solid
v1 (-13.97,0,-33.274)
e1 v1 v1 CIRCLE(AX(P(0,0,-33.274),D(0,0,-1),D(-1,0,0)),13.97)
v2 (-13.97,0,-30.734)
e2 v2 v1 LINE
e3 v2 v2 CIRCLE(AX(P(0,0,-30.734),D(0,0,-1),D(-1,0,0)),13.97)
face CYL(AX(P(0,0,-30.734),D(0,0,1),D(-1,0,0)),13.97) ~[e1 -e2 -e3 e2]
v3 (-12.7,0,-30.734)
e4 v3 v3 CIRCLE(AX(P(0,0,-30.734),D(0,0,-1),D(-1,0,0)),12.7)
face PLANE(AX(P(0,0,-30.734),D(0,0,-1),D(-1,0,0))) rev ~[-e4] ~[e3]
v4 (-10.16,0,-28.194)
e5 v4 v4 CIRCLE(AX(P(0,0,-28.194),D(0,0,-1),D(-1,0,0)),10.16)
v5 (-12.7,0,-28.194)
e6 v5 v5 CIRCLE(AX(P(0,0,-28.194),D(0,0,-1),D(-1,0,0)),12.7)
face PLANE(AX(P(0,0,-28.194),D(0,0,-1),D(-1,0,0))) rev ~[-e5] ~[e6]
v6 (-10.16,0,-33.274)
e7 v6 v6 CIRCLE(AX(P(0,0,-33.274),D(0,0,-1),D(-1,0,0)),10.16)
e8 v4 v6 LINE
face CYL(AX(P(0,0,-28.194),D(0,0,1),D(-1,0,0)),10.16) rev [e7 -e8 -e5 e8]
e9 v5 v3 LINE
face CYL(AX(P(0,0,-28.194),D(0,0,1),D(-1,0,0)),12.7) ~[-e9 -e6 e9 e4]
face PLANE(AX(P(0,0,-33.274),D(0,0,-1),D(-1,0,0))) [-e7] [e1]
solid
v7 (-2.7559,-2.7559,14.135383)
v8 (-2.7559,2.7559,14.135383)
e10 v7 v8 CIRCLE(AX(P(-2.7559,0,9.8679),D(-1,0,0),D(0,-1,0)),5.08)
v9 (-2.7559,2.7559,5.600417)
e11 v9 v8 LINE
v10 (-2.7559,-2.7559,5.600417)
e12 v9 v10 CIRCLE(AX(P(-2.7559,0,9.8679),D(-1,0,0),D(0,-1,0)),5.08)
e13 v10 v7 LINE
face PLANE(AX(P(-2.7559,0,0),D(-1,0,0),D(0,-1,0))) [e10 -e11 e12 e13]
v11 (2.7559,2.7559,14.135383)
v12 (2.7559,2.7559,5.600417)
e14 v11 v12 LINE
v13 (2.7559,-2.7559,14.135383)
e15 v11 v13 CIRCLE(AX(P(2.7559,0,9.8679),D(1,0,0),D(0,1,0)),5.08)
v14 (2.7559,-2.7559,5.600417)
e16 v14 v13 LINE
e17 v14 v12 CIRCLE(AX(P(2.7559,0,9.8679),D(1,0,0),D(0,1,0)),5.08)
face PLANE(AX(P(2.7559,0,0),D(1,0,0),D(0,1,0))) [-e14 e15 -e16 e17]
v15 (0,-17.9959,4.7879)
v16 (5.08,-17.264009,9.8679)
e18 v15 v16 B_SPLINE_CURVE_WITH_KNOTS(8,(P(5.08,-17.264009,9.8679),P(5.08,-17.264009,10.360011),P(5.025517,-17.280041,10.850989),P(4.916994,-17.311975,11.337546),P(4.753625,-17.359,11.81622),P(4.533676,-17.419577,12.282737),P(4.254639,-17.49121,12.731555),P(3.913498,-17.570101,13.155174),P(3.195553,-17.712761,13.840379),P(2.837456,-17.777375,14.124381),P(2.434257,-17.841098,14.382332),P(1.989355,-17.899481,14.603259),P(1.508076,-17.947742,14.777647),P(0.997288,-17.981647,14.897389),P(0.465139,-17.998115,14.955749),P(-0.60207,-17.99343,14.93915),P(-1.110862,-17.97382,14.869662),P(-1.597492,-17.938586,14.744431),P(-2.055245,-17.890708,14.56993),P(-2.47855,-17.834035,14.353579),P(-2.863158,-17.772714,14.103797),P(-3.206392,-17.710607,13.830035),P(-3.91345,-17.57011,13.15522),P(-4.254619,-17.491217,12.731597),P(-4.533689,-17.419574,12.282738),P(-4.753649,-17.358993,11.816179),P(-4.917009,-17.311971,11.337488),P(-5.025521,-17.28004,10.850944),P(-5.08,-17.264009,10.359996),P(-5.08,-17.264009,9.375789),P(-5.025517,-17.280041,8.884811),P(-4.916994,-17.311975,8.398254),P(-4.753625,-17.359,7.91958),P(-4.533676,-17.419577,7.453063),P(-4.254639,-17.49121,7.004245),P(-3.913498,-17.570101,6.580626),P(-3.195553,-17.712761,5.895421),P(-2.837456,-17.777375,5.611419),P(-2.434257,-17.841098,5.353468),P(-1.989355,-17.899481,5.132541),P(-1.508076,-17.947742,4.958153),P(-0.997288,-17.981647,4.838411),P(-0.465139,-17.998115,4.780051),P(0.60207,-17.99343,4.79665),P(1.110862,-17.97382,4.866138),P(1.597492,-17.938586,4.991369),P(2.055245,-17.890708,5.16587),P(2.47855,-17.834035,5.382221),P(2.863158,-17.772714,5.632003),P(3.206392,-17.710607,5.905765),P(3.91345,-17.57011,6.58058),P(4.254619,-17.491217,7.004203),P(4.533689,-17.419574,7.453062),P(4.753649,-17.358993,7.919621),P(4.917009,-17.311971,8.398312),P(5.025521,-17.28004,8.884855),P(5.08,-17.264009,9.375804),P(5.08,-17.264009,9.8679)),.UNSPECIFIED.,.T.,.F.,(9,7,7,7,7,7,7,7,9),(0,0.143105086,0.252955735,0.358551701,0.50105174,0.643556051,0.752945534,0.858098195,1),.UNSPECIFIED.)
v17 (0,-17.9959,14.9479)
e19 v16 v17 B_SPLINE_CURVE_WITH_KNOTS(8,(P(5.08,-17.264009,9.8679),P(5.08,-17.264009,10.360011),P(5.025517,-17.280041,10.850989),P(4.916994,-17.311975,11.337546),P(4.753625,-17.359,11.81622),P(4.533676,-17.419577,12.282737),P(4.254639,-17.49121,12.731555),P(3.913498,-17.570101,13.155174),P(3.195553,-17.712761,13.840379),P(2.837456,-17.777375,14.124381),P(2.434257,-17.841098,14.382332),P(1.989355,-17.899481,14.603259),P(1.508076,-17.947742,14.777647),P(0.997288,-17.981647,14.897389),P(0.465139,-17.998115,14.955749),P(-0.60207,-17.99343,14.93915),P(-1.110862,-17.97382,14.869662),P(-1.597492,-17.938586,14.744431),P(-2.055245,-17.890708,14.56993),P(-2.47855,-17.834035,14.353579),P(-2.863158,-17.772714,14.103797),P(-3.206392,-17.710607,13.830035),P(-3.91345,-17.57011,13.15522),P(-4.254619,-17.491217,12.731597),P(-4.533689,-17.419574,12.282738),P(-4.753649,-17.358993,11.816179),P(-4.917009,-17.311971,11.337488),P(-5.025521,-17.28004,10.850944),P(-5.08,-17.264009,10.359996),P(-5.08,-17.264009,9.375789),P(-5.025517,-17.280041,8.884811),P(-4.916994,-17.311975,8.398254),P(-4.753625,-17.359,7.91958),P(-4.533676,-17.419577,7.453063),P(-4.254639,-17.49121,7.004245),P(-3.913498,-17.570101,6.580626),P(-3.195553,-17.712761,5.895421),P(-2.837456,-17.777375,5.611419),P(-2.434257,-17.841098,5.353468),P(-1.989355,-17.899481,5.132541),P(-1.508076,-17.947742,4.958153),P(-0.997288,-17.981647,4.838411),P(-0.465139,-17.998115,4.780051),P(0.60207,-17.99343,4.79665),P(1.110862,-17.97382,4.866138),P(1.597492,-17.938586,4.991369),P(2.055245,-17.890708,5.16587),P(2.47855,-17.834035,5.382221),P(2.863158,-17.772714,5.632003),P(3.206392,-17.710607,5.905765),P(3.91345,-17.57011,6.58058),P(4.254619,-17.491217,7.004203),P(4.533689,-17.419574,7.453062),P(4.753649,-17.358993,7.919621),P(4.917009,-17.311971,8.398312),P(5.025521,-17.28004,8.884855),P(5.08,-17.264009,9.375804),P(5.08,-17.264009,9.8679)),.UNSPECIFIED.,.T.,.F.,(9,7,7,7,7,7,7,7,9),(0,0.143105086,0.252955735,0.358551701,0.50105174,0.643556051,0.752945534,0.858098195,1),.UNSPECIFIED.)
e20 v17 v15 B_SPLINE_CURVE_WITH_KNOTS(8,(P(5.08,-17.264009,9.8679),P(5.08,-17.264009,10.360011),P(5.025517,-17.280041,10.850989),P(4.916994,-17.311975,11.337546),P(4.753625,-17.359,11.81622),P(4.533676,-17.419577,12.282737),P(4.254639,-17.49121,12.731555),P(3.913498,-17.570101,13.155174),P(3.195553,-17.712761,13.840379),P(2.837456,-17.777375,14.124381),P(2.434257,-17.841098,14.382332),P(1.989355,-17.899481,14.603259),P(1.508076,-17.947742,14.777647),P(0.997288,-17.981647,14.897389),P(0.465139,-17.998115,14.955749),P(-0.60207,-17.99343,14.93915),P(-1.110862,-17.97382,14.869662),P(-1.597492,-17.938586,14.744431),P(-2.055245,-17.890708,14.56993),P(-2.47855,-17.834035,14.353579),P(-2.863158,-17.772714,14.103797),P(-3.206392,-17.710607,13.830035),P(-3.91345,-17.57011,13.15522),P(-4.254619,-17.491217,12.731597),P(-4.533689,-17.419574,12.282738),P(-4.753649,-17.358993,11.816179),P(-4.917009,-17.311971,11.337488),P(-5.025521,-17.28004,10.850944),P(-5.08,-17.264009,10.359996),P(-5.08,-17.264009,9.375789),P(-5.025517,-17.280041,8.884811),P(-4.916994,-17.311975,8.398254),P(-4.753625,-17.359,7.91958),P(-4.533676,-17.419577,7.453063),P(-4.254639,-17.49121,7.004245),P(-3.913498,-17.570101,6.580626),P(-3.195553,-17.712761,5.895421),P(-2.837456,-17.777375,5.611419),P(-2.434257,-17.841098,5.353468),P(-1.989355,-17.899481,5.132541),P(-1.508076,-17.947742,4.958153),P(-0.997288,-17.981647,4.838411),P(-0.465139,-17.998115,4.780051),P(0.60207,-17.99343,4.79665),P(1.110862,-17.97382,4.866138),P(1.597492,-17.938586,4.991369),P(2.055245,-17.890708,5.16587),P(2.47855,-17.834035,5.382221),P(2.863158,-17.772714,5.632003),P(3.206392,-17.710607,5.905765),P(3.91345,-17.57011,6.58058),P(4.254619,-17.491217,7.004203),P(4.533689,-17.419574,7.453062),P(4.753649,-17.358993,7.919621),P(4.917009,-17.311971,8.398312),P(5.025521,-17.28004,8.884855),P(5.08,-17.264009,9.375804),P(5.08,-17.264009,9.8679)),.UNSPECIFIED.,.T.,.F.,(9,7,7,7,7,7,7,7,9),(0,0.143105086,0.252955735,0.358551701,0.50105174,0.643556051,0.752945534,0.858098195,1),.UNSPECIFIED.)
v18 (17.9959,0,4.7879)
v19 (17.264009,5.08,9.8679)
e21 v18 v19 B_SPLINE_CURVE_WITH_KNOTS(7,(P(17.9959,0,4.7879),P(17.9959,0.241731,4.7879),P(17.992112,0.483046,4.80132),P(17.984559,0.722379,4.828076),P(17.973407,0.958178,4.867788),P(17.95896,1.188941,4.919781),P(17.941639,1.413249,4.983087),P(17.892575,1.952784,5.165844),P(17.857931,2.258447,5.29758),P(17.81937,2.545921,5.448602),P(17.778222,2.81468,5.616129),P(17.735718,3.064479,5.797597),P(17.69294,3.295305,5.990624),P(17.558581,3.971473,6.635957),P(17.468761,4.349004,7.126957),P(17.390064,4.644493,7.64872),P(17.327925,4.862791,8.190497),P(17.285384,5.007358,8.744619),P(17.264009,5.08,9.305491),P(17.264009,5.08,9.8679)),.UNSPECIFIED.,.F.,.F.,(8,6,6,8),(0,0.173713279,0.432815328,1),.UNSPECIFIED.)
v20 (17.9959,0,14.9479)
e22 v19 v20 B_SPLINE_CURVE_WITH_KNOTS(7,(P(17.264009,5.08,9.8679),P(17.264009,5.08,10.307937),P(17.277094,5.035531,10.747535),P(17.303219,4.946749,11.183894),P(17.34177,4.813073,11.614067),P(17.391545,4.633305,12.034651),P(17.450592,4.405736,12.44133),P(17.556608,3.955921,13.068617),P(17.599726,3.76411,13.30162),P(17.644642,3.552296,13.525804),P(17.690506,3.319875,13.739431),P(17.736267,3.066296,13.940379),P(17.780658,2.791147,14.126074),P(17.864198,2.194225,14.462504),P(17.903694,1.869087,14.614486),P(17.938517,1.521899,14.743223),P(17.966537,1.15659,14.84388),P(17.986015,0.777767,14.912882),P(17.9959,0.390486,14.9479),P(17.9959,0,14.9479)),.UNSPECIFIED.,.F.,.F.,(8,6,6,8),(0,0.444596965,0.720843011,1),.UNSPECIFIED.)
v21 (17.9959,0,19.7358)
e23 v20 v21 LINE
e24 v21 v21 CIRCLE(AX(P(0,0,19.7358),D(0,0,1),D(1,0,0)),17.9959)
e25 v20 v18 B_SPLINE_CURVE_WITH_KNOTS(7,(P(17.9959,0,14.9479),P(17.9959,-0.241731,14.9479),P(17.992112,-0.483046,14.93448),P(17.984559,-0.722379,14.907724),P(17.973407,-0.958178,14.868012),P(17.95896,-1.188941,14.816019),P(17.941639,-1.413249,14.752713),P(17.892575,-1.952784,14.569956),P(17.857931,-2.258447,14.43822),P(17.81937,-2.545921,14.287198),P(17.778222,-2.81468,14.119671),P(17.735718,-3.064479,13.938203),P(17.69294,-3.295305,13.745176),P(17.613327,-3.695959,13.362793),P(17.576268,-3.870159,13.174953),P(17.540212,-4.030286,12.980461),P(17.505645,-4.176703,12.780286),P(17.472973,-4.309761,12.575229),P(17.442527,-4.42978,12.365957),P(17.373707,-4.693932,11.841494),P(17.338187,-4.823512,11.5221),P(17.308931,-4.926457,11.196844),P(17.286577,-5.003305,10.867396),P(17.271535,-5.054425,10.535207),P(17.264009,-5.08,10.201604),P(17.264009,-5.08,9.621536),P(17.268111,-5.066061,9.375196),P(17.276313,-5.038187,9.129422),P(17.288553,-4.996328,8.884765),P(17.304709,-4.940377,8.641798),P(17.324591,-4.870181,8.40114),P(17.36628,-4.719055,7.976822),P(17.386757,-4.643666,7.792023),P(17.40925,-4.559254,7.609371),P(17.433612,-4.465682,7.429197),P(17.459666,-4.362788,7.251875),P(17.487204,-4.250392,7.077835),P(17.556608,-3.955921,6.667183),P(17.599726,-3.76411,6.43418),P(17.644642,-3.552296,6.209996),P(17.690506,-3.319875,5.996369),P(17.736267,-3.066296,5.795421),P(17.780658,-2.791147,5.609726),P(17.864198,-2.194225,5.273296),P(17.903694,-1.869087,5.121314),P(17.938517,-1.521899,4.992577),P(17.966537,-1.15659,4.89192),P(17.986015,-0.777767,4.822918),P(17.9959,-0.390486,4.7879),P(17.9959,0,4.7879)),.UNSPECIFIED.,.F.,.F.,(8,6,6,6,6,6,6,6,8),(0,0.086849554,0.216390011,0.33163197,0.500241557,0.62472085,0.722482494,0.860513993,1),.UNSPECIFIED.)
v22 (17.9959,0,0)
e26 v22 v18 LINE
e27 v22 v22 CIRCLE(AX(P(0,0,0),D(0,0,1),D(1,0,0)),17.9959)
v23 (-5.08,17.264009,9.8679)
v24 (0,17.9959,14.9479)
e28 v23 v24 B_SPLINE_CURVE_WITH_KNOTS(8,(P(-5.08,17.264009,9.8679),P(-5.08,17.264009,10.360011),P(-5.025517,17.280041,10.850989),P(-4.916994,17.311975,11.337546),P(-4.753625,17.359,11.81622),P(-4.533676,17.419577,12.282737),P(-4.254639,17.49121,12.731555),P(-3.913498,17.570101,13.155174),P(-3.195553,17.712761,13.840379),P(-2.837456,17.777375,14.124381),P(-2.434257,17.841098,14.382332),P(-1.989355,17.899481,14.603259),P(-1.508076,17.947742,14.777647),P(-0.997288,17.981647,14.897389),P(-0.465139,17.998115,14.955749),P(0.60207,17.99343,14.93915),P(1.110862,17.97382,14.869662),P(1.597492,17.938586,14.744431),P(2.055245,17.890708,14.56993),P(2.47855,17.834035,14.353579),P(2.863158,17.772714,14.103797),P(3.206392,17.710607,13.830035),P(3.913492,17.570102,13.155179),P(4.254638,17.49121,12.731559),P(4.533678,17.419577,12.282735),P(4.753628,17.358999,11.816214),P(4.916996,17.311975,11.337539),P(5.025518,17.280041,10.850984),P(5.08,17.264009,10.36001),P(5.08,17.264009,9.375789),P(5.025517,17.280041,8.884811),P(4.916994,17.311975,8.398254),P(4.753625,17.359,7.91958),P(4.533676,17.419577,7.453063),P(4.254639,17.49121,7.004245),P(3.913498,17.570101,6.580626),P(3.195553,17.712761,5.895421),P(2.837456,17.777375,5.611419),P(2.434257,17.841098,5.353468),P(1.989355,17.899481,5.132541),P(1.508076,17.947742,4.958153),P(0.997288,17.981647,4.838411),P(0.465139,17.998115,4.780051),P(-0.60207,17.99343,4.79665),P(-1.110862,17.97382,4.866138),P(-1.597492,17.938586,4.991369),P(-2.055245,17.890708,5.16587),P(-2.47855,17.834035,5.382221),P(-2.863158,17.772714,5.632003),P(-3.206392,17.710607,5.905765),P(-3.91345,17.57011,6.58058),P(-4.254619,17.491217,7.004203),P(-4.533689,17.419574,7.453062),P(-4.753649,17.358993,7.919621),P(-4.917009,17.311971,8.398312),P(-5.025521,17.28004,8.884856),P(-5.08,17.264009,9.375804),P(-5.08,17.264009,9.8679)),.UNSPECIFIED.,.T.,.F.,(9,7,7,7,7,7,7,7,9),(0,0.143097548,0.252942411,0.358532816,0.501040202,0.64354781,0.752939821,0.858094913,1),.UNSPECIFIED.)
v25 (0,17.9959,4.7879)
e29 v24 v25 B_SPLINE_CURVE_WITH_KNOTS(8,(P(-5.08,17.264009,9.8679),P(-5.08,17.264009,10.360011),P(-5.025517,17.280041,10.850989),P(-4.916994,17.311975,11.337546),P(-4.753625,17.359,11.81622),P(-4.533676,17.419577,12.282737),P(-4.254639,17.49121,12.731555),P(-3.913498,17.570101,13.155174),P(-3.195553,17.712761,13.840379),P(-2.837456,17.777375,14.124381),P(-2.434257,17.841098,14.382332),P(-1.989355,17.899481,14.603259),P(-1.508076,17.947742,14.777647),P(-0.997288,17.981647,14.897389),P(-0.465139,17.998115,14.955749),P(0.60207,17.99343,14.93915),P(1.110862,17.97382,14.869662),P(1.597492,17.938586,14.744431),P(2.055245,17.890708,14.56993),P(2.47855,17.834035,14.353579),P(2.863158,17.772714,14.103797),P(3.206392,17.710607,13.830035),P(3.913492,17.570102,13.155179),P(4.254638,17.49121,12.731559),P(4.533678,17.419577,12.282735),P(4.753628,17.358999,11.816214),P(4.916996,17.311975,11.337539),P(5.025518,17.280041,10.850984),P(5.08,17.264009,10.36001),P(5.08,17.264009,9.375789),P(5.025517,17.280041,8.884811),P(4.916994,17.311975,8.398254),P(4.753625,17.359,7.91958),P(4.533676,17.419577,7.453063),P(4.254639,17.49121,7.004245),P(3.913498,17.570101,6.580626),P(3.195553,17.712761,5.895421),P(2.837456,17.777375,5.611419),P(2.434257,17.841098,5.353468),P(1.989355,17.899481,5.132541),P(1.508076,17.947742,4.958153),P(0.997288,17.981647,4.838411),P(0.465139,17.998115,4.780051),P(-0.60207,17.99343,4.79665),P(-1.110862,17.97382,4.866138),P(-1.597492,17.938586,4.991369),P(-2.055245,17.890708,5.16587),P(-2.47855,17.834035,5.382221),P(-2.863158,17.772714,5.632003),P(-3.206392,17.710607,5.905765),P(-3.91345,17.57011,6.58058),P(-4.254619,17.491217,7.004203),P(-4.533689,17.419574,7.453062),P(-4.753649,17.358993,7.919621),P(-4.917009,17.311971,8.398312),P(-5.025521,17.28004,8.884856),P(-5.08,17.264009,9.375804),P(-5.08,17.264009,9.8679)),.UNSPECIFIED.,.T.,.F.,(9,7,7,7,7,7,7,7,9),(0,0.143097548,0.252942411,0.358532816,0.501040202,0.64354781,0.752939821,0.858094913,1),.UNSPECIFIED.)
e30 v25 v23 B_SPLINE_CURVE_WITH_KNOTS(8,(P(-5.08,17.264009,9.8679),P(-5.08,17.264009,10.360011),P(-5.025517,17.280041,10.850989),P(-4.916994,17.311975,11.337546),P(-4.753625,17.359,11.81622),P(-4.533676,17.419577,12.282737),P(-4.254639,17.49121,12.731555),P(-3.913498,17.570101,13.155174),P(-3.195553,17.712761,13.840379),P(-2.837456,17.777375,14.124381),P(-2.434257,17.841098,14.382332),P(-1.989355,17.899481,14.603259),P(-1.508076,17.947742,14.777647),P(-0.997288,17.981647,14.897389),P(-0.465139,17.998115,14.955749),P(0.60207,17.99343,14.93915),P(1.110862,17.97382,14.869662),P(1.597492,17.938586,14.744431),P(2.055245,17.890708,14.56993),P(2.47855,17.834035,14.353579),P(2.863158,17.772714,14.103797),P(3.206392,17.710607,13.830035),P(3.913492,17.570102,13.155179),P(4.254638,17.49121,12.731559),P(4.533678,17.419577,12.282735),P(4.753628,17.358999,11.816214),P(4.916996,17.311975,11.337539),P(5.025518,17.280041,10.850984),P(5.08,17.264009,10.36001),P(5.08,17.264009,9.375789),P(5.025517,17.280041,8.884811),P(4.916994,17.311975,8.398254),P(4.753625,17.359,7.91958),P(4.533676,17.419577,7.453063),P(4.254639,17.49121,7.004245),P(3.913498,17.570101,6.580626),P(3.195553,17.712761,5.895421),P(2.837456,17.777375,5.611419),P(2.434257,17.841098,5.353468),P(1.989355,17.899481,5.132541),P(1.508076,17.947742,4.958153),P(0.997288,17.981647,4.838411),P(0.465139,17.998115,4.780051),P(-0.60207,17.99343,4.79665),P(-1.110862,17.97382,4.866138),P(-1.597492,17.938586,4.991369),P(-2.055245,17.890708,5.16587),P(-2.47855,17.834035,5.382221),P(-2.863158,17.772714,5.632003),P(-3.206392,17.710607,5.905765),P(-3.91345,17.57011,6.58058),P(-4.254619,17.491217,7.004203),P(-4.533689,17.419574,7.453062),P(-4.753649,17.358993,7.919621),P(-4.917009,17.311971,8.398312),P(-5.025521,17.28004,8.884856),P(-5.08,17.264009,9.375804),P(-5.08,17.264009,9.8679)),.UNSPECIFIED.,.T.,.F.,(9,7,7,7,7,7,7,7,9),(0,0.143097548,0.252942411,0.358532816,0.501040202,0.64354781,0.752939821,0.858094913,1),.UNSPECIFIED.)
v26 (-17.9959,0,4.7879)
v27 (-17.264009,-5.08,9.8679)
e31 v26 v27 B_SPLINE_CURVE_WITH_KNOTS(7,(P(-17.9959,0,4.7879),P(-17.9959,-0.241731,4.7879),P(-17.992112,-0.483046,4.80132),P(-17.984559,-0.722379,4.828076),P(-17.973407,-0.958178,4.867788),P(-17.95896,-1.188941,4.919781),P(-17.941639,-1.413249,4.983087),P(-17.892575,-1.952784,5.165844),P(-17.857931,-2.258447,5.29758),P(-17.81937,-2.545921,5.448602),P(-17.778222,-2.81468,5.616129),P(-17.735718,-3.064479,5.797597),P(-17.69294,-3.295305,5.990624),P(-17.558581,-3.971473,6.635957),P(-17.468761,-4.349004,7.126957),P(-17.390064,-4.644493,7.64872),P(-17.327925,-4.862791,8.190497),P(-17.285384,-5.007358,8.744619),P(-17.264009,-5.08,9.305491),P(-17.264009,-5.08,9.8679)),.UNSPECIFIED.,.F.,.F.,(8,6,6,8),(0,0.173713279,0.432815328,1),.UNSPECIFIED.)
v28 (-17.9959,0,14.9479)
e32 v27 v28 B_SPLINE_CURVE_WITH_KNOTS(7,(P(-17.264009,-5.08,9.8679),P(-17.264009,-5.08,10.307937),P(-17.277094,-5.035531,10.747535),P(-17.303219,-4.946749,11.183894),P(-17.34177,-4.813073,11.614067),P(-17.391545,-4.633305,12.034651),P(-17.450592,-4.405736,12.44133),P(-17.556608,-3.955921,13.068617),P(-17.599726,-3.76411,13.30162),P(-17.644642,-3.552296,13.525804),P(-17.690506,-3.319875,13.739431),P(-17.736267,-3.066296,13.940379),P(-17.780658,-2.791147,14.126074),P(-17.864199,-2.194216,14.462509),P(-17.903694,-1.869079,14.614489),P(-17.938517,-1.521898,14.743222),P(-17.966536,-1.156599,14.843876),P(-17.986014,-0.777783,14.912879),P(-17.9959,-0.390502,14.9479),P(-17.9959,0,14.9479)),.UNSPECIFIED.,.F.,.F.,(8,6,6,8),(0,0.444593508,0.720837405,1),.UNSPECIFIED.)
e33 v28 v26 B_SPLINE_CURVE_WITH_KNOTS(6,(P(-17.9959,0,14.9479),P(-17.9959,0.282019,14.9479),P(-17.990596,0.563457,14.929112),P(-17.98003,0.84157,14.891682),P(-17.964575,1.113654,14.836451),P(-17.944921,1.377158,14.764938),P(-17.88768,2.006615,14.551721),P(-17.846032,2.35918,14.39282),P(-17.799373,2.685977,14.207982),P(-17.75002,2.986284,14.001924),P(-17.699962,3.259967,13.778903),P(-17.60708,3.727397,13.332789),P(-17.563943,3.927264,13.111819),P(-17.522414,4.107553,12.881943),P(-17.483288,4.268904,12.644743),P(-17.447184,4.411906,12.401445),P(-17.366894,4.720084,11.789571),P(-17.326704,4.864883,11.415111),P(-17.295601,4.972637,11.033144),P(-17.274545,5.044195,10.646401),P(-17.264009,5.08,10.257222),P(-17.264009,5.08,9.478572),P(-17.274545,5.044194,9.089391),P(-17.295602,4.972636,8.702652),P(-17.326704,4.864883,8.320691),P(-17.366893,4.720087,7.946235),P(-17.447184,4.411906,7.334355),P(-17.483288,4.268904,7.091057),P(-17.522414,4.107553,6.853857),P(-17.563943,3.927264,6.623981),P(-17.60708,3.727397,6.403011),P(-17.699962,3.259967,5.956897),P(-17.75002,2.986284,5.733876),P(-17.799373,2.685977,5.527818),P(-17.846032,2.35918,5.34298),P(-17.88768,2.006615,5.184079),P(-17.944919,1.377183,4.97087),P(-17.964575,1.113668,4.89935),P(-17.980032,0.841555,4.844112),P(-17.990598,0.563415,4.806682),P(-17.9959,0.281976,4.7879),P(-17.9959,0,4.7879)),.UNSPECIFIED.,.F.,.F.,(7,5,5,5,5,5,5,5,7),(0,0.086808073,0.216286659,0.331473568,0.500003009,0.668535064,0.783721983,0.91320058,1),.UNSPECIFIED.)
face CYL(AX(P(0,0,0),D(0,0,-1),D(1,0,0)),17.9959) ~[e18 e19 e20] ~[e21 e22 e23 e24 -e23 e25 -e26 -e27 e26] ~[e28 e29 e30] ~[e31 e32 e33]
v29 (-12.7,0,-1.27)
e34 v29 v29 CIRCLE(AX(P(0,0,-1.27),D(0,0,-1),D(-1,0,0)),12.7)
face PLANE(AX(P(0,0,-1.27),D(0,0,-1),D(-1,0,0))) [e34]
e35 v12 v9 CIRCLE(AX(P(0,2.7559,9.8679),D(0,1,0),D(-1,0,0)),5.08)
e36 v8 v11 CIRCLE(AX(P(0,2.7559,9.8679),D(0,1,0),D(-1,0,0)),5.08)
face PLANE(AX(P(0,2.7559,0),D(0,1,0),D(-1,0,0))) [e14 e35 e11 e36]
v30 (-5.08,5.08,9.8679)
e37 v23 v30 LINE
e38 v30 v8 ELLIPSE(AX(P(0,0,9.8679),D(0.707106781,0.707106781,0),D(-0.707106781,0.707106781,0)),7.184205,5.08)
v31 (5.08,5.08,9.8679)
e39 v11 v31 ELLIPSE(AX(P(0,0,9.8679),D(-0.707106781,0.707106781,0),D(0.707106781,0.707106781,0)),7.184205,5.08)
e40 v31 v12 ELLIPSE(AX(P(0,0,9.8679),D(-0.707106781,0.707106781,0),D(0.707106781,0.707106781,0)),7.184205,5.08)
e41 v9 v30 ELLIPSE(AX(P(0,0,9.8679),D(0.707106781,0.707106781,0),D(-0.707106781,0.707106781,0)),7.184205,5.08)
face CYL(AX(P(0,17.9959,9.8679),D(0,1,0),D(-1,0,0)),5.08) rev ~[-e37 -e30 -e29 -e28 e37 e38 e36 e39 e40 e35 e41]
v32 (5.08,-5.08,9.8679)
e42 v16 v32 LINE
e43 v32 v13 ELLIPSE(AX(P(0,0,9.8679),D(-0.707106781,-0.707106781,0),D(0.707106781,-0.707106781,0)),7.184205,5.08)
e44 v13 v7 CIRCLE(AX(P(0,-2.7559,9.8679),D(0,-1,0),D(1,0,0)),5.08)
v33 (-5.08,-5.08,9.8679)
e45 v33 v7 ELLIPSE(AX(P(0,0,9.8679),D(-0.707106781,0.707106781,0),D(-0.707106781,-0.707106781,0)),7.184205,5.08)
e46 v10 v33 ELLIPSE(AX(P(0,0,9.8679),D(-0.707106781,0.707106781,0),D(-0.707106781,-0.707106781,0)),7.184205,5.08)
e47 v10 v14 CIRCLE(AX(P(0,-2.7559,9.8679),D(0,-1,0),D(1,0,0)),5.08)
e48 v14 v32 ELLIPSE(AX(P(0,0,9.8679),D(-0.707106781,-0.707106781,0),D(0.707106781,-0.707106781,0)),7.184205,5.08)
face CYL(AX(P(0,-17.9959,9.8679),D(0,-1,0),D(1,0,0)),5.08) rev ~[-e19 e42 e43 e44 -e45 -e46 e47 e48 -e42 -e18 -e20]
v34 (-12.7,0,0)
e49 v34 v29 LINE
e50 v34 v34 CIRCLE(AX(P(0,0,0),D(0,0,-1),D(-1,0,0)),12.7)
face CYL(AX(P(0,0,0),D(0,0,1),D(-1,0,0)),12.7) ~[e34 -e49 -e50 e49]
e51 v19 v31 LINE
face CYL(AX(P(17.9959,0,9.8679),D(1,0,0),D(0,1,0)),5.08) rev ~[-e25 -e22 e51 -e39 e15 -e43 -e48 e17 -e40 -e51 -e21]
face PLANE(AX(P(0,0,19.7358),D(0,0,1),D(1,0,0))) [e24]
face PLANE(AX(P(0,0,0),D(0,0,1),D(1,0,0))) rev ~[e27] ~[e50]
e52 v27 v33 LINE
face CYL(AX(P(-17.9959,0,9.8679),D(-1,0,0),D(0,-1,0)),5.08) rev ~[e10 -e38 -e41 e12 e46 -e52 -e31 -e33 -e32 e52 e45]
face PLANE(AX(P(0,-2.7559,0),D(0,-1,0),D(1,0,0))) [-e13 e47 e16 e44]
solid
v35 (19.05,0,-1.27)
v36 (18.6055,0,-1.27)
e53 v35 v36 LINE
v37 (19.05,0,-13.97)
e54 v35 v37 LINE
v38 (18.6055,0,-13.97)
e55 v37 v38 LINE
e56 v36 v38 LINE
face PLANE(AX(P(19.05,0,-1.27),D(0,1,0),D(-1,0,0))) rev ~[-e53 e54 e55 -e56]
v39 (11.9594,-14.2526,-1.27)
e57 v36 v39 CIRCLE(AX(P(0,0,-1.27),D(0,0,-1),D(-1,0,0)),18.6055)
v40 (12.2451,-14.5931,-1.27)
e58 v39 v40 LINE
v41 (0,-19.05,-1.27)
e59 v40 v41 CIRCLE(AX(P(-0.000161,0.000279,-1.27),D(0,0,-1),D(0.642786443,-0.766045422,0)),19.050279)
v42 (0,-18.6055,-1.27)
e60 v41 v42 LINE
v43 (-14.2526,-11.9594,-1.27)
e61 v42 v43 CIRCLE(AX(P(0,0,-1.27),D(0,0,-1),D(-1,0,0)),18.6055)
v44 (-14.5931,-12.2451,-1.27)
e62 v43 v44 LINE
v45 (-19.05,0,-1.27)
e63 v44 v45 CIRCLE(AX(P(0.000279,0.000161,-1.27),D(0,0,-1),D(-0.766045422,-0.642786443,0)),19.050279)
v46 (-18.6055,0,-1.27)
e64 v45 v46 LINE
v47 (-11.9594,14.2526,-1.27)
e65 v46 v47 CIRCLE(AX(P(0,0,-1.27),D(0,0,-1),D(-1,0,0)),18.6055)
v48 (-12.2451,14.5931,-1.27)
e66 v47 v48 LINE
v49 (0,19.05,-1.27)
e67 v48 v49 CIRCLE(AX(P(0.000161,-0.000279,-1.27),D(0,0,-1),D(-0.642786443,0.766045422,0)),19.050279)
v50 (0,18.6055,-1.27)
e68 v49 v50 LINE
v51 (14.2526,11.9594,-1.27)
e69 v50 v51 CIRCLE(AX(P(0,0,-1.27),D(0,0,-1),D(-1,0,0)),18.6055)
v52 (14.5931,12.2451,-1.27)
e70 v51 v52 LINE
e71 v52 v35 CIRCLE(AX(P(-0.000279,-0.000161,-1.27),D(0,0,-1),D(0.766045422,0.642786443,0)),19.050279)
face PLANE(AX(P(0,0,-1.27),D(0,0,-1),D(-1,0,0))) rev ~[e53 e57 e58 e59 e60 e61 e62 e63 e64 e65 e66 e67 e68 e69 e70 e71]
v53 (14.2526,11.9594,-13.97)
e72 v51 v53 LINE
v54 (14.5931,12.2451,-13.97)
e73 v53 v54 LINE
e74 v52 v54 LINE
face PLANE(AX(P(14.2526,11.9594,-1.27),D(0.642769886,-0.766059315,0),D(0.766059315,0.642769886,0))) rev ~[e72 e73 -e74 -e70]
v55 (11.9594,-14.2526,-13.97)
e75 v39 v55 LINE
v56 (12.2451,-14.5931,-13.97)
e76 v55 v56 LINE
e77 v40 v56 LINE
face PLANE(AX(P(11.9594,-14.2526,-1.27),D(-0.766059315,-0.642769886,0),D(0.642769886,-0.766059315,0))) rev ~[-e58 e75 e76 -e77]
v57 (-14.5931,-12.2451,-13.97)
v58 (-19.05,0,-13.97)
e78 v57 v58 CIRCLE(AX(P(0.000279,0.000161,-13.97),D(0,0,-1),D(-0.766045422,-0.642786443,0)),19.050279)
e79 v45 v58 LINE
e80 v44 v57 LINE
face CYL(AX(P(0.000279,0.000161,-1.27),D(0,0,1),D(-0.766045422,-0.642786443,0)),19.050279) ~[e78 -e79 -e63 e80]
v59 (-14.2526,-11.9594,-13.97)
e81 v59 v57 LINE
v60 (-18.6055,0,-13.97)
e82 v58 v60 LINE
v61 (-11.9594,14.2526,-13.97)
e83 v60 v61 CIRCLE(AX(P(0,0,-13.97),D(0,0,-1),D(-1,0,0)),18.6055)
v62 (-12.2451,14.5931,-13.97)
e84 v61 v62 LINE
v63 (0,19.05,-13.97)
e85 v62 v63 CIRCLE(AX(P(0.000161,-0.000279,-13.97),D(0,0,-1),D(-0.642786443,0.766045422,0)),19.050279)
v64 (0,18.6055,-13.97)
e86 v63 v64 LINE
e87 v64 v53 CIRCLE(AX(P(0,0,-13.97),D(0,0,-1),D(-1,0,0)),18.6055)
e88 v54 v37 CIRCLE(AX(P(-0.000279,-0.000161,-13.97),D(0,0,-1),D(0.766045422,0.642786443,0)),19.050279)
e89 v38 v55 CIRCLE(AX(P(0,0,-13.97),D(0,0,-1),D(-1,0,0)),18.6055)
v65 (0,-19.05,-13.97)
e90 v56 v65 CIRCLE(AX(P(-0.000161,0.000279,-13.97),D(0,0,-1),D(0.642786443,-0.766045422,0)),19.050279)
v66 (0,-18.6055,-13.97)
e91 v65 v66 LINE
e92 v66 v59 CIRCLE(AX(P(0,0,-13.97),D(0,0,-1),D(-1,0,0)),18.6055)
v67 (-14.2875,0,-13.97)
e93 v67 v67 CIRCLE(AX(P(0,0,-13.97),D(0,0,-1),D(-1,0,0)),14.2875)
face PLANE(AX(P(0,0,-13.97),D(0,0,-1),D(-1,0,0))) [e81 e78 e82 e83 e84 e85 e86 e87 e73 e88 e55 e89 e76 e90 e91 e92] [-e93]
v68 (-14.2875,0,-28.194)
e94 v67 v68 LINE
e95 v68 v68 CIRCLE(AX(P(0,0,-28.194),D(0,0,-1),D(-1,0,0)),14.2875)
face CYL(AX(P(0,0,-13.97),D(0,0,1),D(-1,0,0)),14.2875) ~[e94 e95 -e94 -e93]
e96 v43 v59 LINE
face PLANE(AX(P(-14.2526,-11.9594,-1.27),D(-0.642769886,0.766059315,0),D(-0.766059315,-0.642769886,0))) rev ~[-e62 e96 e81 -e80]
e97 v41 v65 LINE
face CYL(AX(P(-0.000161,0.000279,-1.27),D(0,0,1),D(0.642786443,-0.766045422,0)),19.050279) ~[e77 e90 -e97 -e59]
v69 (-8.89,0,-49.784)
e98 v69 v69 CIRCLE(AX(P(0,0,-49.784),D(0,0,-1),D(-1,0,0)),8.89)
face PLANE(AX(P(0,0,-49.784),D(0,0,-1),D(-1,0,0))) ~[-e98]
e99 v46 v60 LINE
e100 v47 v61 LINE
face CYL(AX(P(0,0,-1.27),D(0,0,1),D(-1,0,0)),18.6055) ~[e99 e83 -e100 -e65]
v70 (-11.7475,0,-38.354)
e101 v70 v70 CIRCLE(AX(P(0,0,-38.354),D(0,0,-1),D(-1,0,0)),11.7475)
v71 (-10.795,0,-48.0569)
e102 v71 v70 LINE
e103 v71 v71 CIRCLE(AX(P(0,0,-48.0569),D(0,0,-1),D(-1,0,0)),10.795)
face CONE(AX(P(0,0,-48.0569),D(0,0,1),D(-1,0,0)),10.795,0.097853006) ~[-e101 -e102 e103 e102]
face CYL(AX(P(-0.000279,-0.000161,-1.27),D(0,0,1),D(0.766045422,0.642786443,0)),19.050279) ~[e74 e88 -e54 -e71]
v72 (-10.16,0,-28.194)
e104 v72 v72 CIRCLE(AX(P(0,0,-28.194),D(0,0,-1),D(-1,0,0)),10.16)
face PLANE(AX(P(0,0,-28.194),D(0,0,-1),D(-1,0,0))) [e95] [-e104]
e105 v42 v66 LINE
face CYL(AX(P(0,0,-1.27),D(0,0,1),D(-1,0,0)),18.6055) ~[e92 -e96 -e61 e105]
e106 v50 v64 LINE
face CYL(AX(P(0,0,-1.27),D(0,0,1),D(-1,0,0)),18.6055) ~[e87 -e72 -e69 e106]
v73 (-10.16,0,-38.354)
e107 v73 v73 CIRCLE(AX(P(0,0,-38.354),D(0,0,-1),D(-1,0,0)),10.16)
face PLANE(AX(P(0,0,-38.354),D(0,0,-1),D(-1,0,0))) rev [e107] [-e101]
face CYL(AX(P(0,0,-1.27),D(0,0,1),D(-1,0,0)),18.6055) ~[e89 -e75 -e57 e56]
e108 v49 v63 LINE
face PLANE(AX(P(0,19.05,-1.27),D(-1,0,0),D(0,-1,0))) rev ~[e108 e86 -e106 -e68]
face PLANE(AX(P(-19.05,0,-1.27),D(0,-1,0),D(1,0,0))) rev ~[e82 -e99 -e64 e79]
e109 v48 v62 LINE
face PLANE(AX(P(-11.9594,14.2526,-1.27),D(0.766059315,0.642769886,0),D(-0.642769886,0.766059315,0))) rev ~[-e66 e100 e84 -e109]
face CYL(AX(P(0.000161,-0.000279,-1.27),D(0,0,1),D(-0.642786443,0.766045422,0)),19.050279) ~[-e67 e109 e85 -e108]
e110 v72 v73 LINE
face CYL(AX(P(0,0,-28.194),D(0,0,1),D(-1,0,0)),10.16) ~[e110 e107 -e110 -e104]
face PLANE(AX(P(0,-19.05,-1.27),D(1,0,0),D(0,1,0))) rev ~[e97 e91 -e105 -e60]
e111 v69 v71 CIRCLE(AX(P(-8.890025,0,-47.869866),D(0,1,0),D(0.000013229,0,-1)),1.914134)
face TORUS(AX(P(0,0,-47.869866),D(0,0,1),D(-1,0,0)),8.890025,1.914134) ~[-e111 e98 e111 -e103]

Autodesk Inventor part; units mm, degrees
ref_plane "YZ Plane" through (0, 0, 0) normal (1, 0, 0) x (0, 1, 0)
ref_plane "XY Plane" through (0, 0, 0) normal (0, 0, 1) x (1, 0, 0)
sketch "Sketch1" plane through (0, 0, 0) normal (0, 0, 1) x (1, 0, 0)
  circle A0 centre (0, 0) radius 17.9959
  dimension "d0" = 35.9918
extrude "Extrusion1" add sketch "Sketch1" along normal blind 19.7358
sketch "Sketch2" plane through (0, 0, 0) normal (0, 0, -1) x (-1, 0, 0)
  circle A0 centre (0, 0) radius 12.7
  dimension "d3" = 25.4
extrude "Extrusion2" add sketch "Sketch2" along normal blind 1.27
sketch "Sketch3" plane through (0, 0, -1.27) normal (0, 0, -1) x (-1, 0, 0)
  circle A0 centre (0, 0) radius 18.6055
  arc A1 (12.2451, 14.5931) -> (0, 19.05) centre (0, 0) ccw
  line L0 (0, 0) -> (12.2451, 14.5931) construction
  line L1 (0, 0) -> (0, 19.05) construction
  line L2 (0, 19.05) -> (0, 18.6055)
  line L3 (11.9594, 14.2526) -> (12.2451, 14.5931)
  arc A2 (11.9594, 14.2526) -> (0, 18.6055) centre (0, 0) ccw
  arc A3 (-14.5931, 12.2451) -> (-19.05, 0) centre (0, 0) ccw
  line L4 (-19.05, 0) -> (-18.6055, 0)
  arc A4 (-14.2526, 11.9594) -> (-18.6055, 0) centre (0, 0) ccw
  line L5 (-14.2526, 11.9594) -> (-14.5931, 12.2451)
  arc A5 (-12.2451, -14.5931) -> (0, -19.05) centre (0, 0) ccw
  line L6 (0, -19.05) -> (0, -18.6055)
  arc A6 (-11.9594, -14.2526) -> (0, -18.6055) centre (0, 0) ccw
  line L7 (-11.9594, -14.2526) -> (-12.2451, -14.5931)
  arc A7 (14.5931, -12.2451) -> (19.05, 0) centre (0, 0) ccw
  line L8 (19.05, 0) -> (18.6055, 0)
  arc A8 (14.2526, -11.9594) -> (18.6055, 0) centre (0, 0) ccw
  line L9 (14.2526, -11.9594) -> (14.5931, -12.2451)
  dimension "d6" = 37.211
  dimension "d7" = 19.05
  dimension "d8" = 40
  dimension "d11" = 360
extrude "Extrusion3" add sketch "Sketch3" along normal blind 12.7 separate body
sketch "Sketch4" plane through (0, 0, -13.97) normal (0, 0, -1) x (-1, 0, 0)
  circle A0 centre (0, 0) radius 14.2875
  dimension "d15" = 28.575
extrude "Extrusion4" add sketch "Sketch4" along normal blind 14.224 bodies 2
sketch "Sketch5" plane through (0, 0, -28.194) normal (0, 0, -1) x (-1, 0, 0)
  circle A0 centre (0, 0) radius 10.16
  dimension "d18" = 20.32
extrude "Extrusion5" add sketch "Sketch5" along normal blind 10.16 bodies 2
sketch "Sketch6" plane through (0, 0, 0) normal (0, 1, 0) x (-1, 0, 0)
  line L0 (-10.16, -38.354) -> (10.16, -38.354) construction
  line L1 (0, -38.354) -> (11.7475, -38.354)
  line L2 (0, -38.354) -> (0, -49.784)
  line L3 (0, -49.784) -> (8.89, -49.784)
  arc A0 (8.89, -49.784) -> (10.795, -48.0569) centre (8.89, -47.8698) ccw
  line L4 (10.795, -48.0569) -> (11.7475, -38.354)
  point P0 (0, 0)
  dimension "d21" = 11.7475
  dimension "d22" = 11.43
  dimension "d23" = 8.89
  dimension "d24" = 10.795
revolve "Revolution1" add sketch "Sketch6" angle 360 about axis through (0, 0, -38.354) along (0, 0, -1) bodies 2
sketch "Sketch7" plane through (0, 0, -28.194) normal (0, 0, -1) x (-1, 0, 0)
  circle A0 centre (0, 0) radius 10.16 projected
  circle A1 centre (0, 0) radius 12.7
  dimension "d26" = 25.4
extrude "Extrusion6" add sketch "Sketch7" along normal blind 2.54 separate body
sketch "Sketch8" plane through (0, 0, -30.734) normal (0, 0, -1) x (-1, 0, 0)
  circle A0 centre (0, 0) radius 10.16 projected
  circle A1 centre (0, 0) radius 13.97
  dimension "d29" = 27.94
extrude "Extrusion7" add sketch "Sketch8" along normal blind 2.54 bodies 3
ref_plane "Work Plane1" through (0, 17.9959, 0) normal (0, 1, 0) x (-1, 0, 0)
sketch "Sketch9" plane through (0, 17.9959, 0) normal (0, 1, 0) x (-1, 0, 0)
  line L0 (0, 0) -> (0, 19.7358) construction
  line L1 (17.9959, 19.7358) -> (-17.9959, 19.7358) construction
  circle A0 centre (0, 9.8679) radius 5.08
  dimension "d32" = 10.16
extrude "Extrusion8" cut sketch "Sketch9" against normal blind 15.24 bodies 1
pattern_circular "Circular Pattern1" count 4 over 360 about axis through (0, 0, 0) along (0, 0, 1) of "Extrusion8" bodies 1
properties part number "101-3002-1" material "Aluminum"
